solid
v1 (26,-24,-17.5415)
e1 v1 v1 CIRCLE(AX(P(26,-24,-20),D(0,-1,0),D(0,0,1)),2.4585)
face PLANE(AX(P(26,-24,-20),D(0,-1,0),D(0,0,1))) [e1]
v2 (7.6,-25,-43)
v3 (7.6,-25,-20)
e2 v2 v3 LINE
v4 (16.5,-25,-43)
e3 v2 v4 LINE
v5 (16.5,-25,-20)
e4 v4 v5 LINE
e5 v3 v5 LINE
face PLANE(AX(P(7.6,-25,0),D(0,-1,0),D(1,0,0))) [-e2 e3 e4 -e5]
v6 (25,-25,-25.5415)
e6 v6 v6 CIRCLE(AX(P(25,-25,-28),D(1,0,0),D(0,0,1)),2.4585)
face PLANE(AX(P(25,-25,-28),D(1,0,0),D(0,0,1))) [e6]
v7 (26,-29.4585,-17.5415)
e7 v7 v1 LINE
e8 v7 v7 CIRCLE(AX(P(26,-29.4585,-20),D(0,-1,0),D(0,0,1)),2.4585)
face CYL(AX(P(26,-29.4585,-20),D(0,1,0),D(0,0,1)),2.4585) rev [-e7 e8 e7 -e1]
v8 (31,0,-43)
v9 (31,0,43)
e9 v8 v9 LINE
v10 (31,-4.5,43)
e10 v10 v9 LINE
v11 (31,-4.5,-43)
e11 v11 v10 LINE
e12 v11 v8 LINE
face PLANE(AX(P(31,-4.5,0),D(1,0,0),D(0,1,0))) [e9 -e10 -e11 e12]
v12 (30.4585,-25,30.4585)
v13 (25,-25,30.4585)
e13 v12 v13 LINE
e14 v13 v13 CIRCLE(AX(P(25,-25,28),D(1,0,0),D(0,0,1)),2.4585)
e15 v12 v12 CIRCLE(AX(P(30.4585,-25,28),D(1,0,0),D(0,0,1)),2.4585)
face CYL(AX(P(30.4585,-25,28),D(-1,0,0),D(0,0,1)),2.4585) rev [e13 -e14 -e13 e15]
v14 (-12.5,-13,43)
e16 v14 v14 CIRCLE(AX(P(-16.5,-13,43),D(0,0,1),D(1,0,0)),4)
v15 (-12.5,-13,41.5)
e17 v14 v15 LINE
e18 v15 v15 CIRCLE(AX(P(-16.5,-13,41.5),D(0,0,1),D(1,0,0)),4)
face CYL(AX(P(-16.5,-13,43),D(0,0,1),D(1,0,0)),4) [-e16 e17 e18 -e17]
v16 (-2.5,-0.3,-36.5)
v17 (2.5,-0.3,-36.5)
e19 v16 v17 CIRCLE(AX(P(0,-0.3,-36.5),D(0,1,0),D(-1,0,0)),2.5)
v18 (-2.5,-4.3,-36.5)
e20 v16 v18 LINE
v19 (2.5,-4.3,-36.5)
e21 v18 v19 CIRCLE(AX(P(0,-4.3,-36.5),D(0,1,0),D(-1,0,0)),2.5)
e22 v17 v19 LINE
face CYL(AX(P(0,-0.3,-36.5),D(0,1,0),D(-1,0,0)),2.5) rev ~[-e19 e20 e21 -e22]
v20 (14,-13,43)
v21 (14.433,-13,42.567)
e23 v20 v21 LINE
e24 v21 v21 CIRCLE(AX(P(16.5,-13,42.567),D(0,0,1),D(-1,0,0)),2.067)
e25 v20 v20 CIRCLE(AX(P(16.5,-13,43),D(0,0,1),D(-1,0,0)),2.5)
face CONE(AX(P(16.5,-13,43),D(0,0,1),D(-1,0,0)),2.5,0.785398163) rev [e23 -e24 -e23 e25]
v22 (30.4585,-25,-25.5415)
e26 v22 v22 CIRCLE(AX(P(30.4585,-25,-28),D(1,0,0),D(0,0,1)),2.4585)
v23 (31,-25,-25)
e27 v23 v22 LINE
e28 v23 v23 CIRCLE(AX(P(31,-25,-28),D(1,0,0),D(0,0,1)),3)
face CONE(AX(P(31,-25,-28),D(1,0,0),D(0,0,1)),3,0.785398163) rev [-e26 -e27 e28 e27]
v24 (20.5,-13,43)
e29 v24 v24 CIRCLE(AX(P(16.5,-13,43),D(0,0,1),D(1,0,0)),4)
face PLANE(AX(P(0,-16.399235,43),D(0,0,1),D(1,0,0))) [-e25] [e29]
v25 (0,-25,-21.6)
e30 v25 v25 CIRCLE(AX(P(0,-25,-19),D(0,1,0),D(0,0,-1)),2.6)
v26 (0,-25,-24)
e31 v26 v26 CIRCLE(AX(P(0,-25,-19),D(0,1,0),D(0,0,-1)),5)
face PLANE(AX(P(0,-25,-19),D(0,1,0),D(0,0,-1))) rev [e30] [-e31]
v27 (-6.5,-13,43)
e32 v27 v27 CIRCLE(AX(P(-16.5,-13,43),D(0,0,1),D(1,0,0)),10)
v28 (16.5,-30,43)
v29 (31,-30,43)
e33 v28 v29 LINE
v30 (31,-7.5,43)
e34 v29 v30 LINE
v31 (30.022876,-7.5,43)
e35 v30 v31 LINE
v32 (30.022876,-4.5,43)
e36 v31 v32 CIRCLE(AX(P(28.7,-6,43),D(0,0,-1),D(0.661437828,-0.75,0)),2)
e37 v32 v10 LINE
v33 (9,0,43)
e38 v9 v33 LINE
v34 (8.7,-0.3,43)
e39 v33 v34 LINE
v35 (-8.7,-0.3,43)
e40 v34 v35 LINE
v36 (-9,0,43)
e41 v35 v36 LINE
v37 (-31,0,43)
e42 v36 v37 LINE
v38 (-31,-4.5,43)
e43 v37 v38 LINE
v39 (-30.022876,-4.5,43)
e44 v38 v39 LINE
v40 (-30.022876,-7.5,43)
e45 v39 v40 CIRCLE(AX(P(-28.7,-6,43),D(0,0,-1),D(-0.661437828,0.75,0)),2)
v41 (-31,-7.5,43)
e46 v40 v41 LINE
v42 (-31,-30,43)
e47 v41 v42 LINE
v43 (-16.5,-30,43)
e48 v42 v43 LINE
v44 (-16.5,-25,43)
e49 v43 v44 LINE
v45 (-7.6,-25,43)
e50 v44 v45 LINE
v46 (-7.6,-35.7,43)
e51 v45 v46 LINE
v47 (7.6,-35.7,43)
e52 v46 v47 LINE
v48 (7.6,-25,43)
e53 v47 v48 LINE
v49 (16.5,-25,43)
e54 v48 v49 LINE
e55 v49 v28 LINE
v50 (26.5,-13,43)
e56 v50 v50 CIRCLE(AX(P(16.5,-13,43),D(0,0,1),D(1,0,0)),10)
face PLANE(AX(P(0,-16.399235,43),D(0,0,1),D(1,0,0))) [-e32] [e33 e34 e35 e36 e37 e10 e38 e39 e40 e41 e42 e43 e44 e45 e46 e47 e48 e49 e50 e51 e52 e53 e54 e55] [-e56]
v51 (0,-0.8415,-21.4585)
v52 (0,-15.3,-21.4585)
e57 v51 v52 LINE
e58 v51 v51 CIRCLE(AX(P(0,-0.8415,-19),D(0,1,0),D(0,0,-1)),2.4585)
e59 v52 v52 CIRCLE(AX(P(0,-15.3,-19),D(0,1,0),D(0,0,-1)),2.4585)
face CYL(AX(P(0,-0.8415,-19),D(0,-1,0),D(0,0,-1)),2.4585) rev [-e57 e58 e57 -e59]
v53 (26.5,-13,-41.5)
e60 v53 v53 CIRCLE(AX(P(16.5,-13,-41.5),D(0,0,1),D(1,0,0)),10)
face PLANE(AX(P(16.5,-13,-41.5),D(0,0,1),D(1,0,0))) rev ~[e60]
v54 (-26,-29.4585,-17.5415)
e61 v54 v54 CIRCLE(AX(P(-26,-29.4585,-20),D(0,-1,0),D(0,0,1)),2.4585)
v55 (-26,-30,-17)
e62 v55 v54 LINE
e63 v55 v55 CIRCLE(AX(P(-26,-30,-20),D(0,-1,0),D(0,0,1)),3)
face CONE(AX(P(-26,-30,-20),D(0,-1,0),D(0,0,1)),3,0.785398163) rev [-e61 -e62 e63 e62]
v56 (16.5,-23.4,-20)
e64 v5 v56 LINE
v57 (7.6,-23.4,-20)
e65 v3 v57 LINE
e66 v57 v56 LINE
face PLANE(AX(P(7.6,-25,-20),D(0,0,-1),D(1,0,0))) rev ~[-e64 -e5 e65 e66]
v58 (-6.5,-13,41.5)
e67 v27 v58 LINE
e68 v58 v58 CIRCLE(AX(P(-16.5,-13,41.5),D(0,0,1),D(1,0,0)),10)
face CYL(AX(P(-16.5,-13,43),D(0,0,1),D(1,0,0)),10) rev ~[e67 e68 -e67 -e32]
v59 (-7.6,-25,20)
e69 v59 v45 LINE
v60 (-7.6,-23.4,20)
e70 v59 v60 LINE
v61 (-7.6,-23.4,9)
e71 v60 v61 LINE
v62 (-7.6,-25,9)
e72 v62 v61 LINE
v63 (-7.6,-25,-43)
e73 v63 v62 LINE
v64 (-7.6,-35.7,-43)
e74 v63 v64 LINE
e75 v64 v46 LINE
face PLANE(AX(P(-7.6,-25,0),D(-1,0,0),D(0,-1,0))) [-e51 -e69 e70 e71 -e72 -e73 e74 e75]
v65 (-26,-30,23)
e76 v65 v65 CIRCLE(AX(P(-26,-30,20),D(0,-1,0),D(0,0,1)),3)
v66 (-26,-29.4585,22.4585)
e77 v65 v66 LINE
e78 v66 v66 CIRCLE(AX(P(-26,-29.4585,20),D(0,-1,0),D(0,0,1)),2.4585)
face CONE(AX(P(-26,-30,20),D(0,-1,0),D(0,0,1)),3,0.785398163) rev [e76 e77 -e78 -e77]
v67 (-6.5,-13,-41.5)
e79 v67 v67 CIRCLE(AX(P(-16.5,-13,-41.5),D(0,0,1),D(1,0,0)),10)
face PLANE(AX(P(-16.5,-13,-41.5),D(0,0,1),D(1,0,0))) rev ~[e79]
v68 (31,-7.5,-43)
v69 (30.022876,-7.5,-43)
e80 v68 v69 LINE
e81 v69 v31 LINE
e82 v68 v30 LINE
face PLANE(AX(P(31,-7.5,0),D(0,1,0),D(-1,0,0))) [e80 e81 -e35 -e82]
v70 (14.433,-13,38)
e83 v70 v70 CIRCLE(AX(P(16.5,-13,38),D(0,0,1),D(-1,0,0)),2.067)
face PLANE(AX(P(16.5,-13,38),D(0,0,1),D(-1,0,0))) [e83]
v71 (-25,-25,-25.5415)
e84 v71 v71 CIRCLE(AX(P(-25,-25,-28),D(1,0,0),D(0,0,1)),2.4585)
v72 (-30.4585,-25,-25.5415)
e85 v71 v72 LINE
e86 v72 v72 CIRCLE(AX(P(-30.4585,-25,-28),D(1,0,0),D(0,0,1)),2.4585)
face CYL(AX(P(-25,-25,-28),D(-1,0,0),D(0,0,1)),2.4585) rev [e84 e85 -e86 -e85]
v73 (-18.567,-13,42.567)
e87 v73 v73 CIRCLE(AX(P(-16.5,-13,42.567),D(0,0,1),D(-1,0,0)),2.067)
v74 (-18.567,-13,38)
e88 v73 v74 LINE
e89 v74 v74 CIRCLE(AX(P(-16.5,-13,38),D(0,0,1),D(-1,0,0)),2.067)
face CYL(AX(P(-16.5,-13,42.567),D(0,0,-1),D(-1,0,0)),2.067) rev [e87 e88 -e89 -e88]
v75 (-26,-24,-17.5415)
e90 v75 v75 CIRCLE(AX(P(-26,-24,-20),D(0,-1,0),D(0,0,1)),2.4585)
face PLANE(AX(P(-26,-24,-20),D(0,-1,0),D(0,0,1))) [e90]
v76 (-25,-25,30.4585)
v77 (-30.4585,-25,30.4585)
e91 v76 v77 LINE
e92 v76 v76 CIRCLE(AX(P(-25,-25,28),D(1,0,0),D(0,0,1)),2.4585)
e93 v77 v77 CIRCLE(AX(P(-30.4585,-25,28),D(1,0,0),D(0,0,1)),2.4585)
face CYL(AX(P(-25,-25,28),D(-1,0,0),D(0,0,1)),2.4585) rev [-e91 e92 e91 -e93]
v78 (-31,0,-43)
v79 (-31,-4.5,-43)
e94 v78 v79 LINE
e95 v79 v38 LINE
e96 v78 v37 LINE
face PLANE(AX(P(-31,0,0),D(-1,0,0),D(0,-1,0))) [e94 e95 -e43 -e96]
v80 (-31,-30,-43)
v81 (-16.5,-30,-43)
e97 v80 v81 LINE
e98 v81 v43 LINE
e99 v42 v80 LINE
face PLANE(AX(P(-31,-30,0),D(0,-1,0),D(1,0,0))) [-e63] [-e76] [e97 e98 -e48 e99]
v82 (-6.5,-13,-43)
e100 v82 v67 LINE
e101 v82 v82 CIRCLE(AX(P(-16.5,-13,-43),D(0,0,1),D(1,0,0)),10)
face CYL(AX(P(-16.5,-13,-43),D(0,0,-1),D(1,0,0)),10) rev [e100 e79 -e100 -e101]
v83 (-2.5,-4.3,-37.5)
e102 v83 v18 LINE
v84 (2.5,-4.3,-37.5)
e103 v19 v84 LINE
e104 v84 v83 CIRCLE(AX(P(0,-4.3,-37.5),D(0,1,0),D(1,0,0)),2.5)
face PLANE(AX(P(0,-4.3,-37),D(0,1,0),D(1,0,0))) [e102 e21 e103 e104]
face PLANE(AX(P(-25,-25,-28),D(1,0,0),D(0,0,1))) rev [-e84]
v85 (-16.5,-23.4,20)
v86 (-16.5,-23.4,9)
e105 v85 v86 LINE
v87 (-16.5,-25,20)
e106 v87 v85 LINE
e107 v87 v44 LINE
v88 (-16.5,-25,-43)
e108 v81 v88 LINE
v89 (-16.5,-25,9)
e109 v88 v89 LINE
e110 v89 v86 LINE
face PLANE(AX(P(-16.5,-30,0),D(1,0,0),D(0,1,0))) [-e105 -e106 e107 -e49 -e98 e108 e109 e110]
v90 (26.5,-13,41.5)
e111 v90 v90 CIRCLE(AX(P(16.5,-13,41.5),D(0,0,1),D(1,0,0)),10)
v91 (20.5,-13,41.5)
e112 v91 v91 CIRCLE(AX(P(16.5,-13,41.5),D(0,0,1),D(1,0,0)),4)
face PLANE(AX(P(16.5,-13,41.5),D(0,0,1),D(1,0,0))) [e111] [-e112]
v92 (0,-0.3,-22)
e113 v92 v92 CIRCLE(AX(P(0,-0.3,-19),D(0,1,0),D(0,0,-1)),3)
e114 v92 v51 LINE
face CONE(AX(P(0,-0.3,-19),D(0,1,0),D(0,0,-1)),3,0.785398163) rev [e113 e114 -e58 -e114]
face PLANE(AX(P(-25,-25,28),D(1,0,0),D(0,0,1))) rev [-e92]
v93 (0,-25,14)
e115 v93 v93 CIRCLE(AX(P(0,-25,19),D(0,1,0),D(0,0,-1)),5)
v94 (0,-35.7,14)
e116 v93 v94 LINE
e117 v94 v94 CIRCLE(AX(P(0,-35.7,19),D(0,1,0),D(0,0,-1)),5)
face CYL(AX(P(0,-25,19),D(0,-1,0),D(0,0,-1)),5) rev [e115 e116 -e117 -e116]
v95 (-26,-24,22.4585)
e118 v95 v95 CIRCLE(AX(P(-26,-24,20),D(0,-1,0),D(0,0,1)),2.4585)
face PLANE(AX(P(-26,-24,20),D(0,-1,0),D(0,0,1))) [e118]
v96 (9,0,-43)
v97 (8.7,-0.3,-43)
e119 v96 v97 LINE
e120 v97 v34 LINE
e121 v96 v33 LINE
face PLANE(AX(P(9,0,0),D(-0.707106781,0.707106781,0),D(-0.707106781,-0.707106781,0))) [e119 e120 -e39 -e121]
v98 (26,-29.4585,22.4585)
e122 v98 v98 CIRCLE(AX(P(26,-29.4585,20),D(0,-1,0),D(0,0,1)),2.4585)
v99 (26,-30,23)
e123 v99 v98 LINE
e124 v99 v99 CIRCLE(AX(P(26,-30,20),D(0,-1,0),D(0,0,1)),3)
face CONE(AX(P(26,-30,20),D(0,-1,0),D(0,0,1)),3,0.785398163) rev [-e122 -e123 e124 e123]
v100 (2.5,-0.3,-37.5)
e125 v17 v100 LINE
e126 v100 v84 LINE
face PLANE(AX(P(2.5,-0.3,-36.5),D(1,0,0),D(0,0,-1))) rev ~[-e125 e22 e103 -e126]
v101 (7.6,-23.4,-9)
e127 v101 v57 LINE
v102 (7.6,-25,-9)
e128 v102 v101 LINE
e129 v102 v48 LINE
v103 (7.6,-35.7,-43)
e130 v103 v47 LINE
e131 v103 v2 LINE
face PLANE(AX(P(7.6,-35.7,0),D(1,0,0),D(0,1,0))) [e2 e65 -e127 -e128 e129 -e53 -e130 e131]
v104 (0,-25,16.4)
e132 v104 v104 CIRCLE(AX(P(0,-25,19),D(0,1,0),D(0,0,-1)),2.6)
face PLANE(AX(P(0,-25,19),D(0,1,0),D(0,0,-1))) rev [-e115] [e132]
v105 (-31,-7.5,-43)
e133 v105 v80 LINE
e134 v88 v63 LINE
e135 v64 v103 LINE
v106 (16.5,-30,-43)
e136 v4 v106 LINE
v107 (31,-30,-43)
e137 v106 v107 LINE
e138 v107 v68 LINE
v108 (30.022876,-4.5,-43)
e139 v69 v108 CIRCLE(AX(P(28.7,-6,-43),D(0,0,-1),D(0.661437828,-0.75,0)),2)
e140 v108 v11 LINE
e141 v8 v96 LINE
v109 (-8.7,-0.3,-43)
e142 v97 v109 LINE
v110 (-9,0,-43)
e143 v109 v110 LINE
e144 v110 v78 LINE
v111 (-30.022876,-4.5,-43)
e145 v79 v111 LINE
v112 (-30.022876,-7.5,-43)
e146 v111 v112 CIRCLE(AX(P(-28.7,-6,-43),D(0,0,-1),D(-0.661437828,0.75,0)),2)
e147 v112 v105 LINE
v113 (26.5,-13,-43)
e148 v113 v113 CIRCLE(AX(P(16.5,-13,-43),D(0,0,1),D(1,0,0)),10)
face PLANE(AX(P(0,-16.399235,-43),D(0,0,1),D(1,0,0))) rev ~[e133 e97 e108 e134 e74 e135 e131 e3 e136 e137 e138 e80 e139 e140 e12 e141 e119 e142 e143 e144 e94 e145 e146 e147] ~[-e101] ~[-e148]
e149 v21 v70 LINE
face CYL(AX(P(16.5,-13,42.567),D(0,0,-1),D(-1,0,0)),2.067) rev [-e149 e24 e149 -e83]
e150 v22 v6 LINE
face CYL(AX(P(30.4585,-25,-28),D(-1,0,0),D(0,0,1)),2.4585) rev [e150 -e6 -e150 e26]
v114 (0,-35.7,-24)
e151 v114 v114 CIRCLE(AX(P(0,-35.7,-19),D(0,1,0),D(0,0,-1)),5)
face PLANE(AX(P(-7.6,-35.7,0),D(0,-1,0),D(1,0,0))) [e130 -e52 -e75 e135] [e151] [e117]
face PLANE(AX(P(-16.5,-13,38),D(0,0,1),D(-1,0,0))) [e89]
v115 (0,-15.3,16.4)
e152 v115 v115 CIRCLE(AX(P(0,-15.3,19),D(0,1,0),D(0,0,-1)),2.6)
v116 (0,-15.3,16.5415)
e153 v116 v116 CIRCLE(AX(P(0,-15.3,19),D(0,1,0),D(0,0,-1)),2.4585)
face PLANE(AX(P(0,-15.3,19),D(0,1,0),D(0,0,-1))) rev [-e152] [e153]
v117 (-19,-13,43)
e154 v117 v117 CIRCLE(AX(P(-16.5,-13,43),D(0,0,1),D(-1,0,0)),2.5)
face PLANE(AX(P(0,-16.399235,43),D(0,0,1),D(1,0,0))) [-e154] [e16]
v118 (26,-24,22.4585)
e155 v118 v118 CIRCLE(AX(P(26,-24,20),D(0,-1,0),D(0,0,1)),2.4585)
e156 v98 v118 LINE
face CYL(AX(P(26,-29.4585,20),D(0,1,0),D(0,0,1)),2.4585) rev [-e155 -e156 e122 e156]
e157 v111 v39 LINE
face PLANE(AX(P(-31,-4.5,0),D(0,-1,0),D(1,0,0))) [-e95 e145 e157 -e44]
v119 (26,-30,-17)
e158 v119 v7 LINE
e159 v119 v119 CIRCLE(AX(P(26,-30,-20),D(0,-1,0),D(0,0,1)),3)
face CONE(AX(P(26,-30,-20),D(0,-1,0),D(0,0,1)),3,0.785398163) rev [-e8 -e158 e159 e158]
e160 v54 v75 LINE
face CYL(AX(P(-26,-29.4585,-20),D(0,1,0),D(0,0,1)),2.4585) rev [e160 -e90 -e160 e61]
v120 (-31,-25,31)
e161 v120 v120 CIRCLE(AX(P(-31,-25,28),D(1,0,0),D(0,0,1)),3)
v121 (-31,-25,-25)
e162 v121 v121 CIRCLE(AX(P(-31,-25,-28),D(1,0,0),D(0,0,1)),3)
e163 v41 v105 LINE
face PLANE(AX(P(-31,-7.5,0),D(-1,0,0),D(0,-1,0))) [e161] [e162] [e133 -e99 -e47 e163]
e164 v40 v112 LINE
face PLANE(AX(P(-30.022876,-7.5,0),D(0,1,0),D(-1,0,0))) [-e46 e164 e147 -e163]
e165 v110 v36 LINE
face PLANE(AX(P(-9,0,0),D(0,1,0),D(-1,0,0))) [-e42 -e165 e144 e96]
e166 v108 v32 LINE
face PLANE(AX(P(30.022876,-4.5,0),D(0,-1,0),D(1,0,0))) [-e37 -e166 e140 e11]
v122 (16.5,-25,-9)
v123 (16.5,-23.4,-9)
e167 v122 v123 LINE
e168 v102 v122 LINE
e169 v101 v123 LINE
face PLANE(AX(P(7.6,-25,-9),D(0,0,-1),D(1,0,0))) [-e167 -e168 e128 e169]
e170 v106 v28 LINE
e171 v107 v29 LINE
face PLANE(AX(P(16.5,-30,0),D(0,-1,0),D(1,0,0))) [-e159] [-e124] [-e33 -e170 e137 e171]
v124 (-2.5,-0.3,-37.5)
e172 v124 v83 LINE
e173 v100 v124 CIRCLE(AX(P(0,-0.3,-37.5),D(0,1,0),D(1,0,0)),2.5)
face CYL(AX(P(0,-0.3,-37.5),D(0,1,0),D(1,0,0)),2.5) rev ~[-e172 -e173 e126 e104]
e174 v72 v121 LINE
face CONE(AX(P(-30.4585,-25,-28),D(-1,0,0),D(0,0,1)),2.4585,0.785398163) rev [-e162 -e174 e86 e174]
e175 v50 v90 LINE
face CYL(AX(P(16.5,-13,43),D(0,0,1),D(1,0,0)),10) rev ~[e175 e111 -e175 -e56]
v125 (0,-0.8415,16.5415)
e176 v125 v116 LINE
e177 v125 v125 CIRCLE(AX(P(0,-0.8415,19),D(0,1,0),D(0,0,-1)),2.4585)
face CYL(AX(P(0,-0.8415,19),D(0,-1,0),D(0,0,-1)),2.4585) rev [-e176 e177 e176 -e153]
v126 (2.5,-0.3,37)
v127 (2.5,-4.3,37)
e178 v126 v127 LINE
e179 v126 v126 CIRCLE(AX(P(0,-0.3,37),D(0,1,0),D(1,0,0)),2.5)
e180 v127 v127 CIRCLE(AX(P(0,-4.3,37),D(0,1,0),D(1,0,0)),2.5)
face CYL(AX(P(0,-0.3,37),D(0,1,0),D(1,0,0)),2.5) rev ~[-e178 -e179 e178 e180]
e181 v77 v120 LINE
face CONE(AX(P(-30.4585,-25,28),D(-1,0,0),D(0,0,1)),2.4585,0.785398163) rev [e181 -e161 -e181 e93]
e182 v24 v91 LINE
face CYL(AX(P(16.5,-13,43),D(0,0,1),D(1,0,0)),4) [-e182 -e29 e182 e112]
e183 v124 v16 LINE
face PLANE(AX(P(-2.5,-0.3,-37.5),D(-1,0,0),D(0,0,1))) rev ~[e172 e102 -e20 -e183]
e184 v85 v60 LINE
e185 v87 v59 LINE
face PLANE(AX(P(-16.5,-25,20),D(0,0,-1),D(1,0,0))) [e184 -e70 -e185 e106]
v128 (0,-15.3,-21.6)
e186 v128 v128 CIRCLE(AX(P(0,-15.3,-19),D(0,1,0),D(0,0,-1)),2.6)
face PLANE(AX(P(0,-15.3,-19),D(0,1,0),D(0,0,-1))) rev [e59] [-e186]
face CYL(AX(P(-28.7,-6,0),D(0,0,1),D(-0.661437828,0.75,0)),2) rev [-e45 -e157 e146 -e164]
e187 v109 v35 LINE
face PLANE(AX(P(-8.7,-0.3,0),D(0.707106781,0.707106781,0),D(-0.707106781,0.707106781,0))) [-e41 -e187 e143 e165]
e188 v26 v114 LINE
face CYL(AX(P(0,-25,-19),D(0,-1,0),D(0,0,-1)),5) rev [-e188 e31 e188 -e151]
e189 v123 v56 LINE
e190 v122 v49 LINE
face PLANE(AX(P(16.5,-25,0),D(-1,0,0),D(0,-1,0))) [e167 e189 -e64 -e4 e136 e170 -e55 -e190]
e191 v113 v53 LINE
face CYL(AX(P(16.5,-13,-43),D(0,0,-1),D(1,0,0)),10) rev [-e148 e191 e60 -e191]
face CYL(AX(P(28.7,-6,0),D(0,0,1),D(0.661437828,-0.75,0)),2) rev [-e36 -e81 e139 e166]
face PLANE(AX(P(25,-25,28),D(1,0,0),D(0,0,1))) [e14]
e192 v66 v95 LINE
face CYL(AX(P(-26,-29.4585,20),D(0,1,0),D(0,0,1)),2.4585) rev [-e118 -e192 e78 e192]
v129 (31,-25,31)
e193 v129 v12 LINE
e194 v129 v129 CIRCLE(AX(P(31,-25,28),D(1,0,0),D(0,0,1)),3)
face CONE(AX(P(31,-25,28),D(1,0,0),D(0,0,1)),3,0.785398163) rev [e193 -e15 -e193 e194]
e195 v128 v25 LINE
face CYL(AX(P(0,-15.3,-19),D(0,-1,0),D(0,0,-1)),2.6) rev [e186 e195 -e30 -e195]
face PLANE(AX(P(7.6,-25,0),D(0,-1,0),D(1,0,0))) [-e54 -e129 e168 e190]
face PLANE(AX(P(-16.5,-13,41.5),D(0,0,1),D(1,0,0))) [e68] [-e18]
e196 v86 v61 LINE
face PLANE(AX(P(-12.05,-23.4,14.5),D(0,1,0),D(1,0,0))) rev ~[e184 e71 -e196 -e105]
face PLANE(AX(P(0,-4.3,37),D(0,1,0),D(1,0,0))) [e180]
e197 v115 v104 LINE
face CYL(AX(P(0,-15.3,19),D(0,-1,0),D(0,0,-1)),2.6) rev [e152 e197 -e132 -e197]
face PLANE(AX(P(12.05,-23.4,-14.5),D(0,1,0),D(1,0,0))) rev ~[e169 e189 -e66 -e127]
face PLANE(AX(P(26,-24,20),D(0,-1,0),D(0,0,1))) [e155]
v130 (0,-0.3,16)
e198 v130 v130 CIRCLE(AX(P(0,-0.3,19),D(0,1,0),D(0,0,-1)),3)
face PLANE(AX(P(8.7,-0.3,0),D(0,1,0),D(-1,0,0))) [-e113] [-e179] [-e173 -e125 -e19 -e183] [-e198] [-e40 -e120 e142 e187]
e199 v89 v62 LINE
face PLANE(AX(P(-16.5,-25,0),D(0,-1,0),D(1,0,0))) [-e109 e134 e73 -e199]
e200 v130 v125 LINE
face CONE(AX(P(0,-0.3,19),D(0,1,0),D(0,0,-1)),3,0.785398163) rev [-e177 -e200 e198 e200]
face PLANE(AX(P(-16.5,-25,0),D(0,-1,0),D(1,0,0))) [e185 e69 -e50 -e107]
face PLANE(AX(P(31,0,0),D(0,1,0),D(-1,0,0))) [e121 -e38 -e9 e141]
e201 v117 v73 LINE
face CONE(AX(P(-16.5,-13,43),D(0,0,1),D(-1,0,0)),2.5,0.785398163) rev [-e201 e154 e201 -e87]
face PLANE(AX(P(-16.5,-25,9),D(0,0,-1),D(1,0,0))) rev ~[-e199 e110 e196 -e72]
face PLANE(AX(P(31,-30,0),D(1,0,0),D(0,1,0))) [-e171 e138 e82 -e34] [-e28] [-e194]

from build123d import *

# Parameters (mm, degrees)
EXTRUDE_1_DEPTH      = 43
EXTRUDE_1_DEPTH_BACK = 43
CUT_EXTRUDE_1_DEPTH  = 4
SKETCH_5_R           = 2.5
CUT_EXTRUDE_2_DEPTH  = 4
SKETCH_14_W          = 8.9
SKETCH_14_H          = 11
CUT_EXTRUDE_3_DEPTH  = 1.6
SKETCH_15_W          = 8.9
SKETCH_15_H          = 11
CUT_EXTRUDE_4_DEPTH  = 1.6
SKETCH_16_R          = 10
SKETCH_16_R_2        = 4
CUT_EXTRUDE_5_DEPTH  = 1.5
SKETCH_17_R          = 10
SKETCH_17_R_2        = 4
CUT_EXTRUDE_6_DEPTH  = 1.5
CUT_EXTRUDE_START    = 1.5
SKETCH_20_R          = 10
CUT_EXTRUDE_7_DEPTH  = 1.5
SKETCH_21_R          = 10
CUT_EXTRUDE_8_DEPTH  = 1.5


with BuildPart() as part:
    # 草图1 → 凸台-拉伸1 (new, two sides: drawn at the far end of the back side and taken through both)
    with BuildSketch(Plane.XY.offset(-EXTRUDE_1_DEPTH_BACK)):
        with BuildLine():
            Line((-31, -30), (-16.5, -30))
            Line((-16.5, -30), (-16.5, -25))
            Line((-16.5, -25), (-7.6, -25))
            Line((-7.6, -25), (-7.6, -35.7))
            Line((-7.6, -35.7), (7.6, -35.7))
            Line((7.6, -35.7), (7.6, -25))
            Line((7.6, -25), (16.5, -25))
            Line((16.5, -25), (16.5, -30))
            Line((16.5, -30), (31, -30))
            Line((31, -30), (31, -7.5))
            Line((31, -7.5), (30.022875656, -7.5))
            ThreePointArc((30.022875656, -7.5), (26.7, -6), (30.022875656, -4.5))
            Line((30.022875656, -4.5), (31, -4.5))
            Line((31, -4.5), (31, 0))
            Line((31, 0), (9, 0))
            Line((9, 0), (8.7, -0.3))
            Line((8.7, -0.3), (-8.7, -0.3))
            Line((-8.7, -0.3), (-9, 0))
            Line((-9, 0), (-31, 0))
            Line((-31, 0), (-31, -4.5))
            Line((-31, -4.5), (-30.022875656, -4.5))
            ThreePointArc((-30.022875656, -4.5), (-26.7, -6), (-30.022875656, -7.5))
            Line((-30.022875656, -7.5), (-31, -7.5))
            Line((-31, -7.5), (-31, -30))
        make_face()
    extrude(amount=EXTRUDE_1_DEPTH + EXTRUDE_1_DEPTH_BACK)

    # 草图2 → 切除-旋转1 (revolve, cut)
    with BuildSketch(Plane(origin=(0, 0, 0), x_dir=(0, 0, -1), z_dir=(1, 0, 0))):
        Polygon((19, -0.3), (22, -0.3), (21.4585, -0.8415), (21.4585, -15.3), (21.6, -15.3), (21.6, -25), (24, -25), (24, -35.7), (19, -35.7), align=None)
    revolve(axis=Axis((0, -35.7, -19), (0, 1, 0)), mode=Mode.SUBTRACT)

    # 草图3 → 切除-旋转2 (revolve, cut)
    with BuildSketch(Plane(origin=(0, 0, 0), x_dir=(0, 0, -1), z_dir=(1, 0, 0))):
        Polygon((-19, -0.3), (-16, -0.3), (-16.5415, -0.8415), (-16.5415, -15.3), (-16.4, -15.3), (-16.4, -25), (-14, -25), (-14, -35.7), (-19, -35.7), align=None)
    revolve(axis=Axis((0, -35.7, 19), (0, 1, 0)), mode=Mode.SUBTRACT)

    # 草图4 → 切除-拉伸1 (cut)
    with BuildSketch(Plane(origin=(0, -0.3, 0), x_dir=(1, 0, 0), z_dir=(0, 1, 0))):
        with BuildLine():
            Line((-2.5, 37.5), (-2.5, 36.5))
            ThreePointArc((-2.5, 36.5), (0, 34), (2.5, 36.5))
            Line((2.5, 36.5), (2.5, 37.5))
            ThreePointArc((2.5, 37.5), (0, 40), (-2.5, 37.5))
        make_face()
    extrude(amount=-CUT_EXTRUDE_1_DEPTH, mode=Mode.SUBTRACT)

    # 草图5 → 切除-拉伸2 (cut)
    with BuildSketch(Plane(origin=(0, -0.3, 0), x_dir=(1, 0, 0), z_dir=(0, 1, 0))):
        with Locations((0, -37)):
            Circle(SKETCH_5_R)
    extrude(amount=-CUT_EXTRUDE_2_DEPTH, mode=Mode.SUBTRACT)

    # 草图6 → 切除-旋转3 (revolve, cut)
    with BuildSketch(Plane(origin=(0, -25, 0), x_dir=(1, 0, 0), z_dir=(0, 1, 0))):
        Polygon((31, 28), (31, 25), (30.4585, 25.5415), (25, 25.5415), (25, 28), align=None)
    revolve(axis=Axis((25, -25, -28), (1, 0, 0)), mode=Mode.SUBTRACT)

    # 草图7 → 切除-旋转4 (revolve, cut)
    with BuildSketch(Plane(origin=(0, -25, 0), x_dir=(1, 0, 0), z_dir=(0, 1, 0))):
        Polygon((31, -28), (31, -31), (30.4585, -30.4585), (25, -30.4585), (25, -28), align=None)
    revolve(axis=Axis((25, -25, 28), (1, 0, 0)), mode=Mode.SUBTRACT)

    # 草图8 → 切除-旋转5 (revolve, cut)
    with BuildSketch(Plane(origin=(0, -25, 0), x_dir=(1, 0, 0), z_dir=(0, 1, 0))):
        Polygon((-25, 28), (-25, 25.5415), (-30.4585, 25.5415), (-31, 25), (-31, 28), align=None)
    revolve(axis=Axis((-31, -25, -28), (1, 0, 0)), mode=Mode.SUBTRACT)

    # 草图9 → 切除-旋转6 (revolve, cut)
    with BuildSketch(Plane(origin=(0, -25, 0), x_dir=(1, 0, 0), z_dir=(0, 1, 0))):
        Polygon((-25, -28), (-25, -30.4585), (-30.4585, -30.4585), (-31, -31), (-31, -28), align=None)
    revolve(axis=Axis((-31, -25, 28), (1, 0, 0)), mode=Mode.SUBTRACT)

    # 草图10 → 切除-旋转7 (revolve, cut)
    with BuildSketch(Plane(origin=(26, 0, 0), x_dir=(0, 0, -1), z_dir=(1, 0, 0))):
        Polygon((20, -30), (17, -30), (17.5415, -29.4585), (17.5415, -24), (20, -24), align=None)
    revolve(axis=Axis((26, -24, -20), (0, -1, 0)), mode=Mode.SUBTRACT)

    # 草图11 → 切除-旋转8 (revolve, cut)
    with BuildSketch(Plane(origin=(-26, 0, 0), x_dir=(0, 0, -1), z_dir=(1, 0, 0))):
        Polygon((-20, -30), (-23, -30), (-22.4585, -29.4585), (-22.4585, -24), (-20, -24), align=None)
    revolve(axis=Axis((-26, -24, 20), (0, -1, 0)), mode=Mode.SUBTRACT)

    # 草图12 → 切除-旋转9 (revolve, cut)
    with BuildSketch(Plane(origin=(-26, 0, 0), x_dir=(0, 0, -1), z_dir=(1, 0, 0))):
        Polygon((20, -30), (17, -30), (17.5415, -29.4585), (17.5415, -24), (20, -24), align=None)
    revolve(axis=Axis((-26, -24, -20), (0, -1, 0)), mode=Mode.SUBTRACT)

    # 草图13 → 切除-旋转10 (revolve, cut)
    with BuildSketch(Plane(origin=(26, 0, 0), x_dir=(0, 0, -1), z_dir=(1, 0, 0))):
        Polygon((-20, -30), (-23, -30), (-22.4585, -29.4585), (-22.4585, -24), (-20, -24), align=None)
    revolve(axis=Axis((26, -24, 20), (0, -1, 0)), mode=Mode.SUBTRACT)

    # 草图14 → 切除-拉伸3 (cut)
    with BuildSketch(Plane(origin=(0, -25, 0), x_dir=(1, 0, 0), z_dir=(0, 1, 0))):
        with Locations((-12.05, -14.5)):
            Rectangle(SKETCH_14_W, SKETCH_14_H)
    extrude(amount=CUT_EXTRUDE_3_DEPTH, mode=Mode.SUBTRACT)

    # 草图15 → 切除-拉伸4 (cut)
    with BuildSketch(Plane(origin=(0, -25, 0), x_dir=(1, 0, 0), z_dir=(0, 1, 0))):
        with Locations((12.05, 14.5)):
            Rectangle(SKETCH_15_W, SKETCH_15_H)
    extrude(amount=CUT_EXTRUDE_4_DEPTH, mode=Mode.SUBTRACT)

    # 草图16 → 切除-拉伸5 (cut)
    with BuildSketch(Plane.XY.offset(43)):
        with Locations((16.5, -13)):
            Circle(SKETCH_16_R)
        with Locations((16.5, -13)):
            Circle(SKETCH_16_R_2, mode=Mode.SUBTRACT)
    extrude(amount=-CUT_EXTRUDE_5_DEPTH, mode=Mode.SUBTRACT)

    # 草图17 → 切除-拉伸6 (cut)
    with BuildSketch(Plane.XY.offset(43)):
        with Locations((-16.5, -13)):
            Circle(SKETCH_17_R)
        with Locations((-16.5, -13)):
            Circle(SKETCH_17_R_2, mode=Mode.SUBTRACT)
    extrude(amount=-CUT_EXTRUDE_6_DEPTH, mode=Mode.SUBTRACT)

    # 草图18 → 切除-旋转11 (revolve, cut)
    with BuildSketch(Plane(origin=(0, -13, 0), x_dir=(1, 0, 0), z_dir=(0, 1, 0))):
        Polygon((16.5, -43), (14, -43), (14.433, -42.567), (14.433, -38), (16.5, -38), align=None)
    revolve(axis=Axis((16.5, -13, 38), (0, 0, 1)), mode=Mode.SUBTRACT)

    # 草图19 → 切除-旋转12 (revolve, cut)
    with BuildSketch(Plane(origin=(0, -13, 0), x_dir=(1, 0, 0), z_dir=(0, 1, 0))):
        Polygon((-16.5, -43), (-19, -43), (-18.567, -42.567), (-18.567, -38), (-16.5, -38), align=None)
    revolve(axis=Axis((-16.5, -13, 38), (0, 0, 1)), mode=Mode.SUBTRACT)

    # 草图20 → 切除-拉伸7 (cut)
    with BuildSketch(Plane.XY.offset(-43).offset(CUT_EXTRUDE_START)):
        with Locations((16.5, -13)):
            Circle(SKETCH_20_R)
    extrude(amount=-CUT_EXTRUDE_7_DEPTH, mode=Mode.SUBTRACT)

    # 草图21 → 切除-拉伸8 (cut)
    with BuildSketch(Plane.XY.offset(-43).offset(CUT_EXTRUDE_START)):
        with Locations((-16.5, -13)):
            Circle(SKETCH_21_R)
    extrude(amount=-CUT_EXTRUDE_8_DEPTH, mode=Mode.SUBTRACT)


solid = part.part
